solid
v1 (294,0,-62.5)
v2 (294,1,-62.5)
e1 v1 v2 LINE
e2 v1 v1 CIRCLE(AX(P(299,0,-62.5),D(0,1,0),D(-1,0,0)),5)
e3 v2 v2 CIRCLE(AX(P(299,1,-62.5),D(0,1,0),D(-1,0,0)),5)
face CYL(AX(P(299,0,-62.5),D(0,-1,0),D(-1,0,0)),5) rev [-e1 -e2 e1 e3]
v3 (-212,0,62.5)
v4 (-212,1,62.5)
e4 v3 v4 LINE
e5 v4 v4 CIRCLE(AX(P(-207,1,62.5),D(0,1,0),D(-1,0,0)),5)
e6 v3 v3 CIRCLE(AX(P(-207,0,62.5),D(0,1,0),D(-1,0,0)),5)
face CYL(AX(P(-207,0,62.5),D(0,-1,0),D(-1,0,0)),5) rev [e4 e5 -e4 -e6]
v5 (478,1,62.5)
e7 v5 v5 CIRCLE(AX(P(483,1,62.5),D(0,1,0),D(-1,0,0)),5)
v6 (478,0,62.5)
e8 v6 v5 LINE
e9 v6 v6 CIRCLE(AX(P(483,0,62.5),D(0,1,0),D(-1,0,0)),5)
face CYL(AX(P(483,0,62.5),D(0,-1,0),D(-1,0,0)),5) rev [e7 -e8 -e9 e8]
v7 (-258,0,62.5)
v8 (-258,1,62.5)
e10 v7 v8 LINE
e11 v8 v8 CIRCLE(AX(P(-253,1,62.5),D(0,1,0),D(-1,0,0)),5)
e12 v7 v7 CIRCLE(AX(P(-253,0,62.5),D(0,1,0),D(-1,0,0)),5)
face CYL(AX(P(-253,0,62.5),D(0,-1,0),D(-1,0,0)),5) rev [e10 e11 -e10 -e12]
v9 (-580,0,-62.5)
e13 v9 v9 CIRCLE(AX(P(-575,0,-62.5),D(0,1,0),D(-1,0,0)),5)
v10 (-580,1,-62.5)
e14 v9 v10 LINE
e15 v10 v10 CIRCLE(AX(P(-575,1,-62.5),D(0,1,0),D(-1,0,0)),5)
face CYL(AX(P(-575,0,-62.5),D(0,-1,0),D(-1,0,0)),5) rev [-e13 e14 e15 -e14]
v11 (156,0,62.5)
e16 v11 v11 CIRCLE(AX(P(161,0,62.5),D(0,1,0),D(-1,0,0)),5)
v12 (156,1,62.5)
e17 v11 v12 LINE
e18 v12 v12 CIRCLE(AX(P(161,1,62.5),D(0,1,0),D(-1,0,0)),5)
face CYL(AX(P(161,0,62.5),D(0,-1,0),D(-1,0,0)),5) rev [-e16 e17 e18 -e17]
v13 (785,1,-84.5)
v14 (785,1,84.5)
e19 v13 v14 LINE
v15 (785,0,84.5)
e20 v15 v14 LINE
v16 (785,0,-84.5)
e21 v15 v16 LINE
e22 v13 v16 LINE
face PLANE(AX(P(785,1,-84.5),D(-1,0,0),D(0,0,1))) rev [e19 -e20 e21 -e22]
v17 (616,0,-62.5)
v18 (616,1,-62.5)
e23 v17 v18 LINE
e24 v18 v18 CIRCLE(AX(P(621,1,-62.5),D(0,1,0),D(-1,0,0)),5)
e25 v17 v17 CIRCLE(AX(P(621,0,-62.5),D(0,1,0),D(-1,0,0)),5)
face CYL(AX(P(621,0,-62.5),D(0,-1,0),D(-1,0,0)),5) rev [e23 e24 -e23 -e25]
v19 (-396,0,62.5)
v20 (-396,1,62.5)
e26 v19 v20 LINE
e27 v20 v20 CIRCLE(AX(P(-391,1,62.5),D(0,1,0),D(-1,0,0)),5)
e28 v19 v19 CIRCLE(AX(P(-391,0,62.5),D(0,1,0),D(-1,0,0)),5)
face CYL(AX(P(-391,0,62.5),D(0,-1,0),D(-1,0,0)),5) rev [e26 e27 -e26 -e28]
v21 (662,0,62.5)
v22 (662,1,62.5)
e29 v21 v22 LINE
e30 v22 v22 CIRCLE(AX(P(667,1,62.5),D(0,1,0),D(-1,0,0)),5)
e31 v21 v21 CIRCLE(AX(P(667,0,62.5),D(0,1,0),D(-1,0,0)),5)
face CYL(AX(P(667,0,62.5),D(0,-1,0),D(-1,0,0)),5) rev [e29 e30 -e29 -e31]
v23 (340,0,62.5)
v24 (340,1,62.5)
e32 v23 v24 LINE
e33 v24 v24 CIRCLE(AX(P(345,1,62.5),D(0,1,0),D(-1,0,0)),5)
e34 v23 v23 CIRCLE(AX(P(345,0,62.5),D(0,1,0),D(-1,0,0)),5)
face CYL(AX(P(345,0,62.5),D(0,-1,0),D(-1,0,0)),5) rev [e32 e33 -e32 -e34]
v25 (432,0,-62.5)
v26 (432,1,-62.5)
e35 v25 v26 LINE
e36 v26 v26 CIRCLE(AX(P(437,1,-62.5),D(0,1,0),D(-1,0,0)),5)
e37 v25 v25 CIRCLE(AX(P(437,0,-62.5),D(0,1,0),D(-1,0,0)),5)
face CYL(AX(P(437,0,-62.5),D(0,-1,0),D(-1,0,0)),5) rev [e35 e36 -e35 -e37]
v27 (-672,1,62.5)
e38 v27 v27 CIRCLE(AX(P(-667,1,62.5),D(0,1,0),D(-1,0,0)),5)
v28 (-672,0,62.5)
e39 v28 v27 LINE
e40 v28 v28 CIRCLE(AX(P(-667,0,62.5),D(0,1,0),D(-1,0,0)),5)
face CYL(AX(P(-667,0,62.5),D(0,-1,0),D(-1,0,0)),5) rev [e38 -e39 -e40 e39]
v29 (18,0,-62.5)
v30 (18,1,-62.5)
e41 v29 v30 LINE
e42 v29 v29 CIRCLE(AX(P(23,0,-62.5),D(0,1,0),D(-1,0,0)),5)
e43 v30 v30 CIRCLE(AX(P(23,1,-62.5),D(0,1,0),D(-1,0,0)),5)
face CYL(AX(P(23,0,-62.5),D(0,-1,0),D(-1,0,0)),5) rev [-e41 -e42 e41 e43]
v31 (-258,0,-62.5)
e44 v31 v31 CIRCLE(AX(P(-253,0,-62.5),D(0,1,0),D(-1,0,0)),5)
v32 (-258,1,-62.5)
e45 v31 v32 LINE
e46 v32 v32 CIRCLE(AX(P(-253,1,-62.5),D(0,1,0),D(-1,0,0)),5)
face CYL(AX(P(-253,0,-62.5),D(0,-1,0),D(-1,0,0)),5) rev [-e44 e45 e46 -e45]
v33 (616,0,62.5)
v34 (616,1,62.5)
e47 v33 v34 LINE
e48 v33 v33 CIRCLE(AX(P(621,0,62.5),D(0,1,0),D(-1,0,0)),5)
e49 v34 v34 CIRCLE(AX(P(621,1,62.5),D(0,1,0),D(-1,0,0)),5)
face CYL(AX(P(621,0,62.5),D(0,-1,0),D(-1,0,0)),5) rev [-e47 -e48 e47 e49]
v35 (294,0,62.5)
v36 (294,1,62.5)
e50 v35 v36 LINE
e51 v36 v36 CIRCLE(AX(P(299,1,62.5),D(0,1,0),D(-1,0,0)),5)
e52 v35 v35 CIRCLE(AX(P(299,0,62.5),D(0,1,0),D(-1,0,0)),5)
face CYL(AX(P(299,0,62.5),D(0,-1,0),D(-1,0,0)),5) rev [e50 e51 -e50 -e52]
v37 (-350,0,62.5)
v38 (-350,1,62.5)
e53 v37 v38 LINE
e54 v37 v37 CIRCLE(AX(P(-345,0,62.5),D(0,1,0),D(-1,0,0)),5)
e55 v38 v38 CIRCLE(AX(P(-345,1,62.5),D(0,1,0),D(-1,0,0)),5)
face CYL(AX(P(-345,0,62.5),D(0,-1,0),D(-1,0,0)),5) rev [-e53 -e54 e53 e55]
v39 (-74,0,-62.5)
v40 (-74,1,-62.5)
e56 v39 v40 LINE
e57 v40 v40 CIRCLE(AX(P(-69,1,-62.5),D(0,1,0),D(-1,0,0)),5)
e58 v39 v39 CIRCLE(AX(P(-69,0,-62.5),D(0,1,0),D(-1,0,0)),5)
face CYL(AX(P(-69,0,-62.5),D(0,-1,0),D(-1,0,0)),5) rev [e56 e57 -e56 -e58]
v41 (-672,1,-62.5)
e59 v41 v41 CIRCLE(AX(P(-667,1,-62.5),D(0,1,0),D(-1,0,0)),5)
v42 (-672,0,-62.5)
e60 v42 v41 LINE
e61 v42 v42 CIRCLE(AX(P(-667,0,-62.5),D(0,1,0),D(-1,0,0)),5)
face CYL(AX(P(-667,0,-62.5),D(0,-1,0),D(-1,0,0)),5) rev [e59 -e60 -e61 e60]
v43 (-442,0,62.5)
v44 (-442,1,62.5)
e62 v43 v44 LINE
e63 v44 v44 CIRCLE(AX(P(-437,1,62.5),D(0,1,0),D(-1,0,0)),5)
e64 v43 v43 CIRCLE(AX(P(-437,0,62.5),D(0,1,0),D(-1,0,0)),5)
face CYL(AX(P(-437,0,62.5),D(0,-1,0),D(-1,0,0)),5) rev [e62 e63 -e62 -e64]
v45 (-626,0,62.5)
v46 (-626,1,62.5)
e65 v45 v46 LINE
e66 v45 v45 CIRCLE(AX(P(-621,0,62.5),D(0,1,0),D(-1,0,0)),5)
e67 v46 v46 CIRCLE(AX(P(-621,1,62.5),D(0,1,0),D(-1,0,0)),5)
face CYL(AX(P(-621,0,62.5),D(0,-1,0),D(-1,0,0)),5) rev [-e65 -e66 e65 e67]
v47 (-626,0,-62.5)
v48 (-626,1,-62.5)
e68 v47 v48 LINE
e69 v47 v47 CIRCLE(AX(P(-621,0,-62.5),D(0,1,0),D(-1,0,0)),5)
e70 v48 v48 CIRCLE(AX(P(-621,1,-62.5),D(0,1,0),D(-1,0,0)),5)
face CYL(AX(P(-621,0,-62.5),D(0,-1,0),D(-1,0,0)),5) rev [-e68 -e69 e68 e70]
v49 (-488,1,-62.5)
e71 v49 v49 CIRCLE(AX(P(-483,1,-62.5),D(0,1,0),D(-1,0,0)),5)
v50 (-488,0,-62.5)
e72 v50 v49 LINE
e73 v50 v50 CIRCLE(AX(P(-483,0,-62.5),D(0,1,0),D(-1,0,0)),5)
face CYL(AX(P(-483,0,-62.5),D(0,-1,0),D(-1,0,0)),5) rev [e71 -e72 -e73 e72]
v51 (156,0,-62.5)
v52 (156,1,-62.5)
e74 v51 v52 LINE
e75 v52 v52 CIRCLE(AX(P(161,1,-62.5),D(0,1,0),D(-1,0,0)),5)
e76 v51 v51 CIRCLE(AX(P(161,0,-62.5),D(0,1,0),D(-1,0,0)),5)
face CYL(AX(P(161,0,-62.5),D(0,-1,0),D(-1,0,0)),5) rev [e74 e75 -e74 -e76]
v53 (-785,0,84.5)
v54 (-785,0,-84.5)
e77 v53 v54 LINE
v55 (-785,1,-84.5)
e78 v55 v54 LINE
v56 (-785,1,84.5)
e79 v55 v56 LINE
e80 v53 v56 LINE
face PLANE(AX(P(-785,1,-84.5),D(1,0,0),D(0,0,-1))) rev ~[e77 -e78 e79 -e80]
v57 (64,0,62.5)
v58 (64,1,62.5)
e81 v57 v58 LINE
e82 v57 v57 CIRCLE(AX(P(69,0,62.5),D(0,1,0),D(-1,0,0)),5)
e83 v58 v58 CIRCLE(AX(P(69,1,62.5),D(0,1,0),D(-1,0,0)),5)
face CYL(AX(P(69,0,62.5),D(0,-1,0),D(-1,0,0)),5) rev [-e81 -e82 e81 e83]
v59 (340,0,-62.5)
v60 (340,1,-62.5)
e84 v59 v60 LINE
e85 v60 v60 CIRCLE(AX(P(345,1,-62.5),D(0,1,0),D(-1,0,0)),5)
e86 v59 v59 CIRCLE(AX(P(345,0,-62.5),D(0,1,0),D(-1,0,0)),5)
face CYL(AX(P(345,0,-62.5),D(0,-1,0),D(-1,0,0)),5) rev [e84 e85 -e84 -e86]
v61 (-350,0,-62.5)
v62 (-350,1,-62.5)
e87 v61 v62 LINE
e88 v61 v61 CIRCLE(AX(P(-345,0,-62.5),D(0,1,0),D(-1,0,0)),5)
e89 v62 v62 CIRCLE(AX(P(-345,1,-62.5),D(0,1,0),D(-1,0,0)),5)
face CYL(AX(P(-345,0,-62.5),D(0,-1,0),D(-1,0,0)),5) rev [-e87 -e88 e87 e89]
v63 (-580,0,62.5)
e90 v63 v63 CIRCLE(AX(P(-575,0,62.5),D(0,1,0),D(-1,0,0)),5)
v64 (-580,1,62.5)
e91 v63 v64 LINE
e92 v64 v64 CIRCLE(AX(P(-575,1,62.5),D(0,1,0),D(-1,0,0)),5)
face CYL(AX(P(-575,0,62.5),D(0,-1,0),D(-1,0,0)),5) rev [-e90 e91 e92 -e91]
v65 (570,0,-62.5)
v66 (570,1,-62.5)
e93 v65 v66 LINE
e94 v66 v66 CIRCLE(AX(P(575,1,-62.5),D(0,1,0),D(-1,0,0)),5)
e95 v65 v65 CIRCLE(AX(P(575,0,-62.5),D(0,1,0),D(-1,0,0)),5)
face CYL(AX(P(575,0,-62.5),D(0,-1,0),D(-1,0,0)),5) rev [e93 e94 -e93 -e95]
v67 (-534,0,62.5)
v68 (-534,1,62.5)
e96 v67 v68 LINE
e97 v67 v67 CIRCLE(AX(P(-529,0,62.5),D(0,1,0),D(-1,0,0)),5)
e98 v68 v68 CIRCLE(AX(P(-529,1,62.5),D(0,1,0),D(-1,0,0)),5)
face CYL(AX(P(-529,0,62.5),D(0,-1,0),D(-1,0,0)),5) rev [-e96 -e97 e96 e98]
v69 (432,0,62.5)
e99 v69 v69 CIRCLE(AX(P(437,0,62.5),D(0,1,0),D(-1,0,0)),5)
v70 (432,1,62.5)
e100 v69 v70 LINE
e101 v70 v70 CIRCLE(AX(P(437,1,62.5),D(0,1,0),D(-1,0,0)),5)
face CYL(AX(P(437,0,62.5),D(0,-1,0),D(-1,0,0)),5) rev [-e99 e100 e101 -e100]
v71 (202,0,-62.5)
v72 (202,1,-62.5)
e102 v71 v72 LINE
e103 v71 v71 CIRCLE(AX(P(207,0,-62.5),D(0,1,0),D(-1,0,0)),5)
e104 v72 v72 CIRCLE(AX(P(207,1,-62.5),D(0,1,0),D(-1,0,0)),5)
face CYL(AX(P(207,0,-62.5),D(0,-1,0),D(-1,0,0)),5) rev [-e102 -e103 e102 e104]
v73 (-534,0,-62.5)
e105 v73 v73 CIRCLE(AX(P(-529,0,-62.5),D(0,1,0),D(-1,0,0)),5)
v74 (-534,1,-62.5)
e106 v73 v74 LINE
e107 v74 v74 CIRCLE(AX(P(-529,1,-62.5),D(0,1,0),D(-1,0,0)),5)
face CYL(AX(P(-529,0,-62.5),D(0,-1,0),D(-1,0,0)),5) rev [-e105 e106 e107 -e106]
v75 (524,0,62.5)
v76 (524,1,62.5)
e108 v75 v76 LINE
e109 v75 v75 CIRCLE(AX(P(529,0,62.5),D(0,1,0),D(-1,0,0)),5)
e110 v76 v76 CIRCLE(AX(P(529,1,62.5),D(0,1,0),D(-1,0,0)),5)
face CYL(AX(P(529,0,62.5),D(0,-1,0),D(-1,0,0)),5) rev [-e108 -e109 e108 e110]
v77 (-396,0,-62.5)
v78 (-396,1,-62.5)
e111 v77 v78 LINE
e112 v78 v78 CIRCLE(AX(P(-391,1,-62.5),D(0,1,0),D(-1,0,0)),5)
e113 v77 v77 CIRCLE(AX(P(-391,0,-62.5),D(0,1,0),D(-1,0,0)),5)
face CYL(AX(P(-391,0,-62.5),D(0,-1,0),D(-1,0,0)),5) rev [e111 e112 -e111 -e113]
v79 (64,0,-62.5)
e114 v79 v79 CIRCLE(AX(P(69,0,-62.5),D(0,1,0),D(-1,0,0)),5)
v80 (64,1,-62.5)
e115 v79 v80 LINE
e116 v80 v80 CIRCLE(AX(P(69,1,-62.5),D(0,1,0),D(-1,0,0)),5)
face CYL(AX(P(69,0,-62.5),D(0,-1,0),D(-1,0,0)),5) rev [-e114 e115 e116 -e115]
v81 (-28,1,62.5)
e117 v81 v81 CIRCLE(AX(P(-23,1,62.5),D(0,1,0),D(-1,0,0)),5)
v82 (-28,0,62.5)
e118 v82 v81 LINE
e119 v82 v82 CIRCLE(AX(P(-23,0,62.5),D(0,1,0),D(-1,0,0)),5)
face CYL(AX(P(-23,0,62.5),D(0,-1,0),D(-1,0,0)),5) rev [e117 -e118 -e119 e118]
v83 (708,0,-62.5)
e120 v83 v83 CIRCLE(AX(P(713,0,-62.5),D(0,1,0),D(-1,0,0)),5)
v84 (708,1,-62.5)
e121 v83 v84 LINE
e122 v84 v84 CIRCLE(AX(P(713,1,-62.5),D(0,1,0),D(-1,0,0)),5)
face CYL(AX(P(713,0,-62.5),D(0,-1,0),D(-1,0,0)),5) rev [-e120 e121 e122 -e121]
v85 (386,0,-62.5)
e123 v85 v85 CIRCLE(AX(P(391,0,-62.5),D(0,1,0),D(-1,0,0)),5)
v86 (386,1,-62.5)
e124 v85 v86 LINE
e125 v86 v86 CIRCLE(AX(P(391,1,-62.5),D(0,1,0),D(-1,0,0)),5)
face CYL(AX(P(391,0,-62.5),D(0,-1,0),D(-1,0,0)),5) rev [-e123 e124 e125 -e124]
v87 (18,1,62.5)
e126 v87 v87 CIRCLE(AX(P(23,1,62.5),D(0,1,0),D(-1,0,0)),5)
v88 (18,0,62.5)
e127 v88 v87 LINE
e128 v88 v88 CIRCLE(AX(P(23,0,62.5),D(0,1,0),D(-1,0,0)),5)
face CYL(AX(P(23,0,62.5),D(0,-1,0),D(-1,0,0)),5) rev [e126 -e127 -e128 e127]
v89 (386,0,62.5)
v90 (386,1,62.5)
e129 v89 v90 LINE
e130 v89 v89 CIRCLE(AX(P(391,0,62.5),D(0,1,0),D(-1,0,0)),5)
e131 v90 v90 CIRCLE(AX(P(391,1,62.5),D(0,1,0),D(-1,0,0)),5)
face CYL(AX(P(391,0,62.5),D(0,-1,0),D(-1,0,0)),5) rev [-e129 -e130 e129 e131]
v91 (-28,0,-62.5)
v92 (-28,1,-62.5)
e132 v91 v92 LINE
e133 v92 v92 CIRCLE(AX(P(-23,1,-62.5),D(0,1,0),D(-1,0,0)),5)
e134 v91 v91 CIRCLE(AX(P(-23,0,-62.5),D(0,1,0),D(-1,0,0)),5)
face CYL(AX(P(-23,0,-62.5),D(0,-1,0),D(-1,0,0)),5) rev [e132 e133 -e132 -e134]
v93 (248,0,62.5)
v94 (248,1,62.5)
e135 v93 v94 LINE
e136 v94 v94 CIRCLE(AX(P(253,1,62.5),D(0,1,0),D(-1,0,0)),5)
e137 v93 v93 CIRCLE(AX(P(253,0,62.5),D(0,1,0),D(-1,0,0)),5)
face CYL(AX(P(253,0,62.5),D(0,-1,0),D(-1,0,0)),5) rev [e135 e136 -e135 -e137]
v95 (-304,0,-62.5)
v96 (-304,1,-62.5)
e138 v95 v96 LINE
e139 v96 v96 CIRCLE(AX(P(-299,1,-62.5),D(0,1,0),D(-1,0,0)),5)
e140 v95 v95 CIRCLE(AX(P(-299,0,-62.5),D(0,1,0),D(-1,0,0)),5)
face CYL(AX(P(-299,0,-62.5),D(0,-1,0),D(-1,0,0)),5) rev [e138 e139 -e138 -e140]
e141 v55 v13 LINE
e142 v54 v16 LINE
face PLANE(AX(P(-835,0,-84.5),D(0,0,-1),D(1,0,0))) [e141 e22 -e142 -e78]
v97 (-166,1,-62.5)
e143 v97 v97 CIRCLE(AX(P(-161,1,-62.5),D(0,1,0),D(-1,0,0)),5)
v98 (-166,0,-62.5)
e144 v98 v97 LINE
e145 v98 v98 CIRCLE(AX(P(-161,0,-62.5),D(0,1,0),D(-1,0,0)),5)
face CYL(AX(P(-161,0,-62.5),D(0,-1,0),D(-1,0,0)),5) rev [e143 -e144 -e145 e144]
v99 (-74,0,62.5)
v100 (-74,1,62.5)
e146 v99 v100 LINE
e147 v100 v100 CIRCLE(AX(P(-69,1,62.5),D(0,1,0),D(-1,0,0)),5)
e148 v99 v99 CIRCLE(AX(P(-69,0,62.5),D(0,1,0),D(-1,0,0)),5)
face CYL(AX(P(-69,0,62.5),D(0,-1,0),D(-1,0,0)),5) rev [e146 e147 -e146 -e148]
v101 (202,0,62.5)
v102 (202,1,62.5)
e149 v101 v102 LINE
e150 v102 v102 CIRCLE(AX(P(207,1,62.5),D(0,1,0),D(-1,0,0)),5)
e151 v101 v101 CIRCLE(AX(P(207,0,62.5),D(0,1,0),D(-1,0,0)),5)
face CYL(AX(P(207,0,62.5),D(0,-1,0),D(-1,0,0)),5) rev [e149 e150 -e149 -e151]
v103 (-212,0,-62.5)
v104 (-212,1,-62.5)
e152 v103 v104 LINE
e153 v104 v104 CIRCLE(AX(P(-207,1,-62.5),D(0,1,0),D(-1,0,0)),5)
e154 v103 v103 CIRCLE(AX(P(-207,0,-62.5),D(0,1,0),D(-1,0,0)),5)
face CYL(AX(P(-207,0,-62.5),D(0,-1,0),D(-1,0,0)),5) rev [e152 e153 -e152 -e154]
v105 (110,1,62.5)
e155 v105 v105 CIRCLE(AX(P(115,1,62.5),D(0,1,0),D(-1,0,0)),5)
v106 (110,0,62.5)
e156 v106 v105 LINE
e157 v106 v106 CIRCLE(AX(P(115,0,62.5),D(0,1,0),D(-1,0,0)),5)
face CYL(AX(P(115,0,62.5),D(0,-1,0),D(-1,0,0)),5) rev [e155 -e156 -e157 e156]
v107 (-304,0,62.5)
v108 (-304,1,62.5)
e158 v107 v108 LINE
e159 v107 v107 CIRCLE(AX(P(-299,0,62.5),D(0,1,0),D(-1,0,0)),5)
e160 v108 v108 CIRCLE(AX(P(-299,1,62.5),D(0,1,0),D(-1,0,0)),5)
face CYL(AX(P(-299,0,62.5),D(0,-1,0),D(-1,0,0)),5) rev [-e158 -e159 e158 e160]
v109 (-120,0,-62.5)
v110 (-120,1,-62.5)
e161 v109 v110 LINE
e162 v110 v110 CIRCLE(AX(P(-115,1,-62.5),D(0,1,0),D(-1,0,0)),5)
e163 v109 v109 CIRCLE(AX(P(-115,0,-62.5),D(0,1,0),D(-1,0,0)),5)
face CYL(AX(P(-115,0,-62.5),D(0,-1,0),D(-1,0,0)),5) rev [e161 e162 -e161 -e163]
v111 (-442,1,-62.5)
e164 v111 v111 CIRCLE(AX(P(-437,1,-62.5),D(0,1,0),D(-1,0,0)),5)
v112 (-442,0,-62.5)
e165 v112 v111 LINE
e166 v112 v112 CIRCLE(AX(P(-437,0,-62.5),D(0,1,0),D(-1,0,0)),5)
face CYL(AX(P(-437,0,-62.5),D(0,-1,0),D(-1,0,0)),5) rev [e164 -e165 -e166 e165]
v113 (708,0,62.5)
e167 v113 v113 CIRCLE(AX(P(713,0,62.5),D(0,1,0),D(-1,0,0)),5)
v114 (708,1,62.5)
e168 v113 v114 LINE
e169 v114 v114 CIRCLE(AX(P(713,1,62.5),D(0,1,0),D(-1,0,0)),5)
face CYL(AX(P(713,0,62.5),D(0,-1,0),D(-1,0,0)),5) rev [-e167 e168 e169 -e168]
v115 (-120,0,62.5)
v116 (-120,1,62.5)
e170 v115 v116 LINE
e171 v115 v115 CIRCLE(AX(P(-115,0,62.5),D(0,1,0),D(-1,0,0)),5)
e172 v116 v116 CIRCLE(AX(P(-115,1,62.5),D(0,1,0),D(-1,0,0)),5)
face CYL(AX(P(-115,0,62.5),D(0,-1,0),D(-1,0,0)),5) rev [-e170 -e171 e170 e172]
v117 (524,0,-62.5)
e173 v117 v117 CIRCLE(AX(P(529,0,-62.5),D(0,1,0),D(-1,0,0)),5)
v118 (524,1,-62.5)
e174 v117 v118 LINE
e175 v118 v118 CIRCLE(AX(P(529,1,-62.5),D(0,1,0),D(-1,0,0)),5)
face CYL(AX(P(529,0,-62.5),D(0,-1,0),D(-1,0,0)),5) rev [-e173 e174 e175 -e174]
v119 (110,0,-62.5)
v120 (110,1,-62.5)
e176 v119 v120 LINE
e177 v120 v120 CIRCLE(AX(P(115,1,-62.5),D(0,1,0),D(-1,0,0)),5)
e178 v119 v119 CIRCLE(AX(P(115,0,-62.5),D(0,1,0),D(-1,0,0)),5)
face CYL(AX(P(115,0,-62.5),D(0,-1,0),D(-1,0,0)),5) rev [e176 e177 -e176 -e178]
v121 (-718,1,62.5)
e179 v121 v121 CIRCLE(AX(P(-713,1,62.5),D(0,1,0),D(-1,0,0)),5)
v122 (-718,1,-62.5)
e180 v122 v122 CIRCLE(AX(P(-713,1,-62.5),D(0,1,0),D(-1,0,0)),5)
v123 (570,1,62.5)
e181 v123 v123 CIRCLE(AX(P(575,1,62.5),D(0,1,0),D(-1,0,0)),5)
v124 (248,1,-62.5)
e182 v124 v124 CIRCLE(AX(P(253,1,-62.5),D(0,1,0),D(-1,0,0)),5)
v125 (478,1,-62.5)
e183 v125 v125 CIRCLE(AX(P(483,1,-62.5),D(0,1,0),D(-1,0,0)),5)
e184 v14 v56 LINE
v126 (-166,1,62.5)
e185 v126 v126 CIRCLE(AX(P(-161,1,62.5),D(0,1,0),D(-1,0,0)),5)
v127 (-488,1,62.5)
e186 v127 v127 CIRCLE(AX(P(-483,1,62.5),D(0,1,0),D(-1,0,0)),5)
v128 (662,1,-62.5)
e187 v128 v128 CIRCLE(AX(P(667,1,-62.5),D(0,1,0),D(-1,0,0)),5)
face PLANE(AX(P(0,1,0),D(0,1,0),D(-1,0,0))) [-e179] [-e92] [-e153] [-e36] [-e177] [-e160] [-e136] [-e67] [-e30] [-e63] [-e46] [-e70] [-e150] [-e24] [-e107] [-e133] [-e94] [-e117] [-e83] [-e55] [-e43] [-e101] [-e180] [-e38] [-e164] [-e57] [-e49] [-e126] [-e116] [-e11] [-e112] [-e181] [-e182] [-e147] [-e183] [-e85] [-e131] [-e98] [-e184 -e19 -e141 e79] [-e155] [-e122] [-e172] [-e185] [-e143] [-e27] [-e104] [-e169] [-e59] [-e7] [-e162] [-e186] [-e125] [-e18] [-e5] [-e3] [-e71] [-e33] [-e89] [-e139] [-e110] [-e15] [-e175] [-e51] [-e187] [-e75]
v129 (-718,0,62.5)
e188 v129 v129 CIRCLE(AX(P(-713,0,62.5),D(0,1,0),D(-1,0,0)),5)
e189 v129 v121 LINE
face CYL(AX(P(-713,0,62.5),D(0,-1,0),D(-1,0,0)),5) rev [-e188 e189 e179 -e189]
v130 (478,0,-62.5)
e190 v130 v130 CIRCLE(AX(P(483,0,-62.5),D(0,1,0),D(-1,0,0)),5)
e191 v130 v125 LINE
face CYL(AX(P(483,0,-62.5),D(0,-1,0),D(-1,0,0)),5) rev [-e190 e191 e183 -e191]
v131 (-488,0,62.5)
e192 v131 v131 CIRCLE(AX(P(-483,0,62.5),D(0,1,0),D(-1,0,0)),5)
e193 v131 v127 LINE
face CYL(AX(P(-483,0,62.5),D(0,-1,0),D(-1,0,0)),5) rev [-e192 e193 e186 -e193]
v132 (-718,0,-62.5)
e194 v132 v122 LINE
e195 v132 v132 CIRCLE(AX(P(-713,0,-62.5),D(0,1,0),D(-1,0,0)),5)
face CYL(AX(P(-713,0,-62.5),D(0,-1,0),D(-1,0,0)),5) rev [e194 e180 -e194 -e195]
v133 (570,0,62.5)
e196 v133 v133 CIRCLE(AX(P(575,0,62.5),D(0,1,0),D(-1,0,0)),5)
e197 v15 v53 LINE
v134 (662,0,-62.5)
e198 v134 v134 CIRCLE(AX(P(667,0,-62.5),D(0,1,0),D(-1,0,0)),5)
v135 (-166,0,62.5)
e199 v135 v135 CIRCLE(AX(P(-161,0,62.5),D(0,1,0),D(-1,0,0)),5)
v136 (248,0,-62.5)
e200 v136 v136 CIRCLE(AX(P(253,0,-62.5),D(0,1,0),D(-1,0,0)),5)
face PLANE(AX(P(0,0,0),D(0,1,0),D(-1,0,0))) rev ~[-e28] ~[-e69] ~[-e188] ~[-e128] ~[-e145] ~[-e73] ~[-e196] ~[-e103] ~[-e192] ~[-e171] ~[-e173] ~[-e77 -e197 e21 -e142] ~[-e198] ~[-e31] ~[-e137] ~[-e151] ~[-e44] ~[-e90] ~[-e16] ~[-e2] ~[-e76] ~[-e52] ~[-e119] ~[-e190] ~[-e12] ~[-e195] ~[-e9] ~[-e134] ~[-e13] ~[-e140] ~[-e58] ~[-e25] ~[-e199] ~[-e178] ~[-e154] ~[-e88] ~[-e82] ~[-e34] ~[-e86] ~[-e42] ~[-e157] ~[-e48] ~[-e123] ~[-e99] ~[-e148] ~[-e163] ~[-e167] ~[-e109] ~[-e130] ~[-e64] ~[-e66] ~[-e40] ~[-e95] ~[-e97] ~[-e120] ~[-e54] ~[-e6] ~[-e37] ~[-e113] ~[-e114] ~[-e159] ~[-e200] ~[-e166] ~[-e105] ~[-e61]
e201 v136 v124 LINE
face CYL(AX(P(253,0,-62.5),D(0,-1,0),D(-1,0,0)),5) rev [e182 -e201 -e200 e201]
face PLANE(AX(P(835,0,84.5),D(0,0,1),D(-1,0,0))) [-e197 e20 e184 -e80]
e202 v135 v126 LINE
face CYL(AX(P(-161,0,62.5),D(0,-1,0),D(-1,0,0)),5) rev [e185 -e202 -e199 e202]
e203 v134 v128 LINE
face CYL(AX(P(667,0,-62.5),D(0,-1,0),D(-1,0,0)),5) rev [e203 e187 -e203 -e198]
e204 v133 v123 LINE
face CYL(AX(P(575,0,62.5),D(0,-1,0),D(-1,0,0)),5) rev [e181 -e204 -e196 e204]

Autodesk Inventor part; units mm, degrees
ref_plane "YZ Plane" through (0, 0, 0) normal (1, 0, 0) x (0, 1, 0)
ref_plane "XZ Plane" through (0, 0, 0) normal (0, 1, 0) x (-1, 0, 0)
ref_plane "XY Plane" through (0, 0, 0) normal (0, 0, 1) x (1, 0, 0)
sketch "Skin Scheme" plane through (0, 0, 0) normal (0, 1, 0) x (-1, 0, 0)
  line L0 (835, -84.5) -> (-835, -84.5)
  line L1 (-835, -84.5) -> (-835, 84.5)
  line L2 (-835, 84.5) -> (835, 84.5)
  line L3 (835, 84.5) -> (835, -84.5)
  circle A0 centre (713, -62.5) radius 5
  circle A1 centre (667, -62.5) radius 5
  circle A2 centre (621, -62.5) radius 5
  circle A3 centre (575, -62.5) radius 5
  circle A4 centre (529, -62.5) radius 5
  circle A5 centre (483, -62.5) radius 5
  circle A6 centre (437, -62.5) radius 5
  circle A7 centre (391, -62.5) radius 5
  circle A8 centre (345, -62.5) radius 5
  circle A9 centre (299, -62.5) radius 5
  circle A10 centre (253, -62.5) radius 5
  circle A11 centre (207, -62.5) radius 5
  circle A12 centre (161, -62.5) radius 5
  circle A13 centre (115, -62.5) radius 5
  circle A14 centre (69, -62.5) radius 5
  circle A15 centre (23, -62.5) radius 5
  circle A16 centre (-23, -62.5) radius 5
  circle A17 centre (-69, -62.5) radius 5
  circle A18 centre (713, 62.5) radius 5
  circle A19 centre (667, 62.5) radius 5
  circle A20 centre (621, 62.5) radius 5
  circle A21 centre (575, 62.5) radius 5
  circle A22 centre (529, 62.5) radius 5
  circle A23 centre (483, 62.5) radius 5
  circle A24 centre (437, 62.5) radius 5
  circle A25 centre (391, 62.5) radius 5
  circle A26 centre (345, 62.5) radius 5
  circle A27 centre (299, 62.5) radius 5
  circle A28 centre (253, 62.5) radius 5
  circle A29 centre (207, 62.5) radius 5
  circle A30 centre (161, 62.5) radius 5
  circle A31 centre (115, 62.5) radius 5
  circle A32 centre (69, 62.5) radius 5
  circle A33 centre (23, 62.5) radius 5
  circle A34 centre (-23, 62.5) radius 5
  circle A35 centre (-69, 62.5) radius 5
  circle A36 centre (-115, -62.5) radius 5
  circle A37 centre (-115, 62.5) radius 5
  circle A38 centre (-161, -62.5) radius 5
  circle A39 centre (-161, 62.5) radius 5
  circle A40 centre (-207, -62.5) radius 5
  circle A41 centre (-207, 62.5) radius 5
  circle A42 centre (-253, -62.5) radius 5
  circle A43 centre (-253, 62.5) radius 5
  circle A44 centre (-299, -62.5) radius 5
  circle A45 centre (-299, 62.5) radius 5
  circle A46 centre (-345, -62.5) radius 5
  circle A47 centre (-345, 62.5) radius 5
  circle A48 centre (-391, -62.5) radius 5
  circle A49 centre (-391, 62.5) radius 5
  circle A50 centre (-437, -62.5) radius 5
  circle A51 centre (-437, 62.5) radius 5
  circle A52 centre (-483, -62.5) radius 5
  circle A53 centre (-483, 62.5) radius 5
  circle A54 centre (-529, -62.5) radius 5
  circle A55 centre (-529, 62.5) radius 5
  circle A56 centre (-575, -62.5) radius 5
  circle A57 centre (-575, 62.5) radius 5
  circle A58 centre (-621, -62.5) radius 5
  circle A59 centre (-621, 62.5) radius 5
  circle A60 centre (-667, -62.5) radius 5
  circle A61 centre (-667, 62.5) radius 5
  circle A62 centre (-713, -62.5) radius 5
  circle A63 centre (-713, 62.5) radius 5
  point P0 (0, 0)
  dimension "d0" = 1670
  dimension "d1" = 835
  dimension "d2" = 169
  dimension "d3" = 84.5
  dimension "d4" = 10
  dimension "d5" = 122
  dimension "d6" = 22
  dimension "d9" = 46
  dimension "d12" = 125
extrude "Skin Body" add sketch "Skin Scheme" along normal blind 1
sketch "End Cut Outline" plane through (0, 1, 0) normal (0, 1, 0) x (1, 0, 0)
  line L0 (-785, 94.5) -> (-845, 94.5)
  line L1 (-845, 94.5) -> (-845, -94.5)
  line L2 (-845, -94.5) -> (-785, -94.5)
  line L3 (-785, -94.5) -> (-785, 94.5)
  line L4 (835, 84.5) -> (-835, 84.5) projected
  line L5 (-835, -84.5) -> (835, -84.5) projected
  line L6 (-835, 84.5) -> (-835, -84.5) projected
  point P0 (0, 0)
  dimension "d19" = 10
  dimension "d20" = 10
  dimension "d21" = 10
  dimension "d22" = 50
extrude "End Cut" cut sketch "End Cut Outline" along normal through all both and the other way through all
mirror "End Cut Mirror" about plane through (0, 0, 0) normal (1, 0, 0) of "End Cut"
equation "\"d1\" = 0.5 * d0"
equation "\"d3\" = 0.5 * d2"
properties part number "Skin NPS 16 Internal" material "Rubber, Silicone"
